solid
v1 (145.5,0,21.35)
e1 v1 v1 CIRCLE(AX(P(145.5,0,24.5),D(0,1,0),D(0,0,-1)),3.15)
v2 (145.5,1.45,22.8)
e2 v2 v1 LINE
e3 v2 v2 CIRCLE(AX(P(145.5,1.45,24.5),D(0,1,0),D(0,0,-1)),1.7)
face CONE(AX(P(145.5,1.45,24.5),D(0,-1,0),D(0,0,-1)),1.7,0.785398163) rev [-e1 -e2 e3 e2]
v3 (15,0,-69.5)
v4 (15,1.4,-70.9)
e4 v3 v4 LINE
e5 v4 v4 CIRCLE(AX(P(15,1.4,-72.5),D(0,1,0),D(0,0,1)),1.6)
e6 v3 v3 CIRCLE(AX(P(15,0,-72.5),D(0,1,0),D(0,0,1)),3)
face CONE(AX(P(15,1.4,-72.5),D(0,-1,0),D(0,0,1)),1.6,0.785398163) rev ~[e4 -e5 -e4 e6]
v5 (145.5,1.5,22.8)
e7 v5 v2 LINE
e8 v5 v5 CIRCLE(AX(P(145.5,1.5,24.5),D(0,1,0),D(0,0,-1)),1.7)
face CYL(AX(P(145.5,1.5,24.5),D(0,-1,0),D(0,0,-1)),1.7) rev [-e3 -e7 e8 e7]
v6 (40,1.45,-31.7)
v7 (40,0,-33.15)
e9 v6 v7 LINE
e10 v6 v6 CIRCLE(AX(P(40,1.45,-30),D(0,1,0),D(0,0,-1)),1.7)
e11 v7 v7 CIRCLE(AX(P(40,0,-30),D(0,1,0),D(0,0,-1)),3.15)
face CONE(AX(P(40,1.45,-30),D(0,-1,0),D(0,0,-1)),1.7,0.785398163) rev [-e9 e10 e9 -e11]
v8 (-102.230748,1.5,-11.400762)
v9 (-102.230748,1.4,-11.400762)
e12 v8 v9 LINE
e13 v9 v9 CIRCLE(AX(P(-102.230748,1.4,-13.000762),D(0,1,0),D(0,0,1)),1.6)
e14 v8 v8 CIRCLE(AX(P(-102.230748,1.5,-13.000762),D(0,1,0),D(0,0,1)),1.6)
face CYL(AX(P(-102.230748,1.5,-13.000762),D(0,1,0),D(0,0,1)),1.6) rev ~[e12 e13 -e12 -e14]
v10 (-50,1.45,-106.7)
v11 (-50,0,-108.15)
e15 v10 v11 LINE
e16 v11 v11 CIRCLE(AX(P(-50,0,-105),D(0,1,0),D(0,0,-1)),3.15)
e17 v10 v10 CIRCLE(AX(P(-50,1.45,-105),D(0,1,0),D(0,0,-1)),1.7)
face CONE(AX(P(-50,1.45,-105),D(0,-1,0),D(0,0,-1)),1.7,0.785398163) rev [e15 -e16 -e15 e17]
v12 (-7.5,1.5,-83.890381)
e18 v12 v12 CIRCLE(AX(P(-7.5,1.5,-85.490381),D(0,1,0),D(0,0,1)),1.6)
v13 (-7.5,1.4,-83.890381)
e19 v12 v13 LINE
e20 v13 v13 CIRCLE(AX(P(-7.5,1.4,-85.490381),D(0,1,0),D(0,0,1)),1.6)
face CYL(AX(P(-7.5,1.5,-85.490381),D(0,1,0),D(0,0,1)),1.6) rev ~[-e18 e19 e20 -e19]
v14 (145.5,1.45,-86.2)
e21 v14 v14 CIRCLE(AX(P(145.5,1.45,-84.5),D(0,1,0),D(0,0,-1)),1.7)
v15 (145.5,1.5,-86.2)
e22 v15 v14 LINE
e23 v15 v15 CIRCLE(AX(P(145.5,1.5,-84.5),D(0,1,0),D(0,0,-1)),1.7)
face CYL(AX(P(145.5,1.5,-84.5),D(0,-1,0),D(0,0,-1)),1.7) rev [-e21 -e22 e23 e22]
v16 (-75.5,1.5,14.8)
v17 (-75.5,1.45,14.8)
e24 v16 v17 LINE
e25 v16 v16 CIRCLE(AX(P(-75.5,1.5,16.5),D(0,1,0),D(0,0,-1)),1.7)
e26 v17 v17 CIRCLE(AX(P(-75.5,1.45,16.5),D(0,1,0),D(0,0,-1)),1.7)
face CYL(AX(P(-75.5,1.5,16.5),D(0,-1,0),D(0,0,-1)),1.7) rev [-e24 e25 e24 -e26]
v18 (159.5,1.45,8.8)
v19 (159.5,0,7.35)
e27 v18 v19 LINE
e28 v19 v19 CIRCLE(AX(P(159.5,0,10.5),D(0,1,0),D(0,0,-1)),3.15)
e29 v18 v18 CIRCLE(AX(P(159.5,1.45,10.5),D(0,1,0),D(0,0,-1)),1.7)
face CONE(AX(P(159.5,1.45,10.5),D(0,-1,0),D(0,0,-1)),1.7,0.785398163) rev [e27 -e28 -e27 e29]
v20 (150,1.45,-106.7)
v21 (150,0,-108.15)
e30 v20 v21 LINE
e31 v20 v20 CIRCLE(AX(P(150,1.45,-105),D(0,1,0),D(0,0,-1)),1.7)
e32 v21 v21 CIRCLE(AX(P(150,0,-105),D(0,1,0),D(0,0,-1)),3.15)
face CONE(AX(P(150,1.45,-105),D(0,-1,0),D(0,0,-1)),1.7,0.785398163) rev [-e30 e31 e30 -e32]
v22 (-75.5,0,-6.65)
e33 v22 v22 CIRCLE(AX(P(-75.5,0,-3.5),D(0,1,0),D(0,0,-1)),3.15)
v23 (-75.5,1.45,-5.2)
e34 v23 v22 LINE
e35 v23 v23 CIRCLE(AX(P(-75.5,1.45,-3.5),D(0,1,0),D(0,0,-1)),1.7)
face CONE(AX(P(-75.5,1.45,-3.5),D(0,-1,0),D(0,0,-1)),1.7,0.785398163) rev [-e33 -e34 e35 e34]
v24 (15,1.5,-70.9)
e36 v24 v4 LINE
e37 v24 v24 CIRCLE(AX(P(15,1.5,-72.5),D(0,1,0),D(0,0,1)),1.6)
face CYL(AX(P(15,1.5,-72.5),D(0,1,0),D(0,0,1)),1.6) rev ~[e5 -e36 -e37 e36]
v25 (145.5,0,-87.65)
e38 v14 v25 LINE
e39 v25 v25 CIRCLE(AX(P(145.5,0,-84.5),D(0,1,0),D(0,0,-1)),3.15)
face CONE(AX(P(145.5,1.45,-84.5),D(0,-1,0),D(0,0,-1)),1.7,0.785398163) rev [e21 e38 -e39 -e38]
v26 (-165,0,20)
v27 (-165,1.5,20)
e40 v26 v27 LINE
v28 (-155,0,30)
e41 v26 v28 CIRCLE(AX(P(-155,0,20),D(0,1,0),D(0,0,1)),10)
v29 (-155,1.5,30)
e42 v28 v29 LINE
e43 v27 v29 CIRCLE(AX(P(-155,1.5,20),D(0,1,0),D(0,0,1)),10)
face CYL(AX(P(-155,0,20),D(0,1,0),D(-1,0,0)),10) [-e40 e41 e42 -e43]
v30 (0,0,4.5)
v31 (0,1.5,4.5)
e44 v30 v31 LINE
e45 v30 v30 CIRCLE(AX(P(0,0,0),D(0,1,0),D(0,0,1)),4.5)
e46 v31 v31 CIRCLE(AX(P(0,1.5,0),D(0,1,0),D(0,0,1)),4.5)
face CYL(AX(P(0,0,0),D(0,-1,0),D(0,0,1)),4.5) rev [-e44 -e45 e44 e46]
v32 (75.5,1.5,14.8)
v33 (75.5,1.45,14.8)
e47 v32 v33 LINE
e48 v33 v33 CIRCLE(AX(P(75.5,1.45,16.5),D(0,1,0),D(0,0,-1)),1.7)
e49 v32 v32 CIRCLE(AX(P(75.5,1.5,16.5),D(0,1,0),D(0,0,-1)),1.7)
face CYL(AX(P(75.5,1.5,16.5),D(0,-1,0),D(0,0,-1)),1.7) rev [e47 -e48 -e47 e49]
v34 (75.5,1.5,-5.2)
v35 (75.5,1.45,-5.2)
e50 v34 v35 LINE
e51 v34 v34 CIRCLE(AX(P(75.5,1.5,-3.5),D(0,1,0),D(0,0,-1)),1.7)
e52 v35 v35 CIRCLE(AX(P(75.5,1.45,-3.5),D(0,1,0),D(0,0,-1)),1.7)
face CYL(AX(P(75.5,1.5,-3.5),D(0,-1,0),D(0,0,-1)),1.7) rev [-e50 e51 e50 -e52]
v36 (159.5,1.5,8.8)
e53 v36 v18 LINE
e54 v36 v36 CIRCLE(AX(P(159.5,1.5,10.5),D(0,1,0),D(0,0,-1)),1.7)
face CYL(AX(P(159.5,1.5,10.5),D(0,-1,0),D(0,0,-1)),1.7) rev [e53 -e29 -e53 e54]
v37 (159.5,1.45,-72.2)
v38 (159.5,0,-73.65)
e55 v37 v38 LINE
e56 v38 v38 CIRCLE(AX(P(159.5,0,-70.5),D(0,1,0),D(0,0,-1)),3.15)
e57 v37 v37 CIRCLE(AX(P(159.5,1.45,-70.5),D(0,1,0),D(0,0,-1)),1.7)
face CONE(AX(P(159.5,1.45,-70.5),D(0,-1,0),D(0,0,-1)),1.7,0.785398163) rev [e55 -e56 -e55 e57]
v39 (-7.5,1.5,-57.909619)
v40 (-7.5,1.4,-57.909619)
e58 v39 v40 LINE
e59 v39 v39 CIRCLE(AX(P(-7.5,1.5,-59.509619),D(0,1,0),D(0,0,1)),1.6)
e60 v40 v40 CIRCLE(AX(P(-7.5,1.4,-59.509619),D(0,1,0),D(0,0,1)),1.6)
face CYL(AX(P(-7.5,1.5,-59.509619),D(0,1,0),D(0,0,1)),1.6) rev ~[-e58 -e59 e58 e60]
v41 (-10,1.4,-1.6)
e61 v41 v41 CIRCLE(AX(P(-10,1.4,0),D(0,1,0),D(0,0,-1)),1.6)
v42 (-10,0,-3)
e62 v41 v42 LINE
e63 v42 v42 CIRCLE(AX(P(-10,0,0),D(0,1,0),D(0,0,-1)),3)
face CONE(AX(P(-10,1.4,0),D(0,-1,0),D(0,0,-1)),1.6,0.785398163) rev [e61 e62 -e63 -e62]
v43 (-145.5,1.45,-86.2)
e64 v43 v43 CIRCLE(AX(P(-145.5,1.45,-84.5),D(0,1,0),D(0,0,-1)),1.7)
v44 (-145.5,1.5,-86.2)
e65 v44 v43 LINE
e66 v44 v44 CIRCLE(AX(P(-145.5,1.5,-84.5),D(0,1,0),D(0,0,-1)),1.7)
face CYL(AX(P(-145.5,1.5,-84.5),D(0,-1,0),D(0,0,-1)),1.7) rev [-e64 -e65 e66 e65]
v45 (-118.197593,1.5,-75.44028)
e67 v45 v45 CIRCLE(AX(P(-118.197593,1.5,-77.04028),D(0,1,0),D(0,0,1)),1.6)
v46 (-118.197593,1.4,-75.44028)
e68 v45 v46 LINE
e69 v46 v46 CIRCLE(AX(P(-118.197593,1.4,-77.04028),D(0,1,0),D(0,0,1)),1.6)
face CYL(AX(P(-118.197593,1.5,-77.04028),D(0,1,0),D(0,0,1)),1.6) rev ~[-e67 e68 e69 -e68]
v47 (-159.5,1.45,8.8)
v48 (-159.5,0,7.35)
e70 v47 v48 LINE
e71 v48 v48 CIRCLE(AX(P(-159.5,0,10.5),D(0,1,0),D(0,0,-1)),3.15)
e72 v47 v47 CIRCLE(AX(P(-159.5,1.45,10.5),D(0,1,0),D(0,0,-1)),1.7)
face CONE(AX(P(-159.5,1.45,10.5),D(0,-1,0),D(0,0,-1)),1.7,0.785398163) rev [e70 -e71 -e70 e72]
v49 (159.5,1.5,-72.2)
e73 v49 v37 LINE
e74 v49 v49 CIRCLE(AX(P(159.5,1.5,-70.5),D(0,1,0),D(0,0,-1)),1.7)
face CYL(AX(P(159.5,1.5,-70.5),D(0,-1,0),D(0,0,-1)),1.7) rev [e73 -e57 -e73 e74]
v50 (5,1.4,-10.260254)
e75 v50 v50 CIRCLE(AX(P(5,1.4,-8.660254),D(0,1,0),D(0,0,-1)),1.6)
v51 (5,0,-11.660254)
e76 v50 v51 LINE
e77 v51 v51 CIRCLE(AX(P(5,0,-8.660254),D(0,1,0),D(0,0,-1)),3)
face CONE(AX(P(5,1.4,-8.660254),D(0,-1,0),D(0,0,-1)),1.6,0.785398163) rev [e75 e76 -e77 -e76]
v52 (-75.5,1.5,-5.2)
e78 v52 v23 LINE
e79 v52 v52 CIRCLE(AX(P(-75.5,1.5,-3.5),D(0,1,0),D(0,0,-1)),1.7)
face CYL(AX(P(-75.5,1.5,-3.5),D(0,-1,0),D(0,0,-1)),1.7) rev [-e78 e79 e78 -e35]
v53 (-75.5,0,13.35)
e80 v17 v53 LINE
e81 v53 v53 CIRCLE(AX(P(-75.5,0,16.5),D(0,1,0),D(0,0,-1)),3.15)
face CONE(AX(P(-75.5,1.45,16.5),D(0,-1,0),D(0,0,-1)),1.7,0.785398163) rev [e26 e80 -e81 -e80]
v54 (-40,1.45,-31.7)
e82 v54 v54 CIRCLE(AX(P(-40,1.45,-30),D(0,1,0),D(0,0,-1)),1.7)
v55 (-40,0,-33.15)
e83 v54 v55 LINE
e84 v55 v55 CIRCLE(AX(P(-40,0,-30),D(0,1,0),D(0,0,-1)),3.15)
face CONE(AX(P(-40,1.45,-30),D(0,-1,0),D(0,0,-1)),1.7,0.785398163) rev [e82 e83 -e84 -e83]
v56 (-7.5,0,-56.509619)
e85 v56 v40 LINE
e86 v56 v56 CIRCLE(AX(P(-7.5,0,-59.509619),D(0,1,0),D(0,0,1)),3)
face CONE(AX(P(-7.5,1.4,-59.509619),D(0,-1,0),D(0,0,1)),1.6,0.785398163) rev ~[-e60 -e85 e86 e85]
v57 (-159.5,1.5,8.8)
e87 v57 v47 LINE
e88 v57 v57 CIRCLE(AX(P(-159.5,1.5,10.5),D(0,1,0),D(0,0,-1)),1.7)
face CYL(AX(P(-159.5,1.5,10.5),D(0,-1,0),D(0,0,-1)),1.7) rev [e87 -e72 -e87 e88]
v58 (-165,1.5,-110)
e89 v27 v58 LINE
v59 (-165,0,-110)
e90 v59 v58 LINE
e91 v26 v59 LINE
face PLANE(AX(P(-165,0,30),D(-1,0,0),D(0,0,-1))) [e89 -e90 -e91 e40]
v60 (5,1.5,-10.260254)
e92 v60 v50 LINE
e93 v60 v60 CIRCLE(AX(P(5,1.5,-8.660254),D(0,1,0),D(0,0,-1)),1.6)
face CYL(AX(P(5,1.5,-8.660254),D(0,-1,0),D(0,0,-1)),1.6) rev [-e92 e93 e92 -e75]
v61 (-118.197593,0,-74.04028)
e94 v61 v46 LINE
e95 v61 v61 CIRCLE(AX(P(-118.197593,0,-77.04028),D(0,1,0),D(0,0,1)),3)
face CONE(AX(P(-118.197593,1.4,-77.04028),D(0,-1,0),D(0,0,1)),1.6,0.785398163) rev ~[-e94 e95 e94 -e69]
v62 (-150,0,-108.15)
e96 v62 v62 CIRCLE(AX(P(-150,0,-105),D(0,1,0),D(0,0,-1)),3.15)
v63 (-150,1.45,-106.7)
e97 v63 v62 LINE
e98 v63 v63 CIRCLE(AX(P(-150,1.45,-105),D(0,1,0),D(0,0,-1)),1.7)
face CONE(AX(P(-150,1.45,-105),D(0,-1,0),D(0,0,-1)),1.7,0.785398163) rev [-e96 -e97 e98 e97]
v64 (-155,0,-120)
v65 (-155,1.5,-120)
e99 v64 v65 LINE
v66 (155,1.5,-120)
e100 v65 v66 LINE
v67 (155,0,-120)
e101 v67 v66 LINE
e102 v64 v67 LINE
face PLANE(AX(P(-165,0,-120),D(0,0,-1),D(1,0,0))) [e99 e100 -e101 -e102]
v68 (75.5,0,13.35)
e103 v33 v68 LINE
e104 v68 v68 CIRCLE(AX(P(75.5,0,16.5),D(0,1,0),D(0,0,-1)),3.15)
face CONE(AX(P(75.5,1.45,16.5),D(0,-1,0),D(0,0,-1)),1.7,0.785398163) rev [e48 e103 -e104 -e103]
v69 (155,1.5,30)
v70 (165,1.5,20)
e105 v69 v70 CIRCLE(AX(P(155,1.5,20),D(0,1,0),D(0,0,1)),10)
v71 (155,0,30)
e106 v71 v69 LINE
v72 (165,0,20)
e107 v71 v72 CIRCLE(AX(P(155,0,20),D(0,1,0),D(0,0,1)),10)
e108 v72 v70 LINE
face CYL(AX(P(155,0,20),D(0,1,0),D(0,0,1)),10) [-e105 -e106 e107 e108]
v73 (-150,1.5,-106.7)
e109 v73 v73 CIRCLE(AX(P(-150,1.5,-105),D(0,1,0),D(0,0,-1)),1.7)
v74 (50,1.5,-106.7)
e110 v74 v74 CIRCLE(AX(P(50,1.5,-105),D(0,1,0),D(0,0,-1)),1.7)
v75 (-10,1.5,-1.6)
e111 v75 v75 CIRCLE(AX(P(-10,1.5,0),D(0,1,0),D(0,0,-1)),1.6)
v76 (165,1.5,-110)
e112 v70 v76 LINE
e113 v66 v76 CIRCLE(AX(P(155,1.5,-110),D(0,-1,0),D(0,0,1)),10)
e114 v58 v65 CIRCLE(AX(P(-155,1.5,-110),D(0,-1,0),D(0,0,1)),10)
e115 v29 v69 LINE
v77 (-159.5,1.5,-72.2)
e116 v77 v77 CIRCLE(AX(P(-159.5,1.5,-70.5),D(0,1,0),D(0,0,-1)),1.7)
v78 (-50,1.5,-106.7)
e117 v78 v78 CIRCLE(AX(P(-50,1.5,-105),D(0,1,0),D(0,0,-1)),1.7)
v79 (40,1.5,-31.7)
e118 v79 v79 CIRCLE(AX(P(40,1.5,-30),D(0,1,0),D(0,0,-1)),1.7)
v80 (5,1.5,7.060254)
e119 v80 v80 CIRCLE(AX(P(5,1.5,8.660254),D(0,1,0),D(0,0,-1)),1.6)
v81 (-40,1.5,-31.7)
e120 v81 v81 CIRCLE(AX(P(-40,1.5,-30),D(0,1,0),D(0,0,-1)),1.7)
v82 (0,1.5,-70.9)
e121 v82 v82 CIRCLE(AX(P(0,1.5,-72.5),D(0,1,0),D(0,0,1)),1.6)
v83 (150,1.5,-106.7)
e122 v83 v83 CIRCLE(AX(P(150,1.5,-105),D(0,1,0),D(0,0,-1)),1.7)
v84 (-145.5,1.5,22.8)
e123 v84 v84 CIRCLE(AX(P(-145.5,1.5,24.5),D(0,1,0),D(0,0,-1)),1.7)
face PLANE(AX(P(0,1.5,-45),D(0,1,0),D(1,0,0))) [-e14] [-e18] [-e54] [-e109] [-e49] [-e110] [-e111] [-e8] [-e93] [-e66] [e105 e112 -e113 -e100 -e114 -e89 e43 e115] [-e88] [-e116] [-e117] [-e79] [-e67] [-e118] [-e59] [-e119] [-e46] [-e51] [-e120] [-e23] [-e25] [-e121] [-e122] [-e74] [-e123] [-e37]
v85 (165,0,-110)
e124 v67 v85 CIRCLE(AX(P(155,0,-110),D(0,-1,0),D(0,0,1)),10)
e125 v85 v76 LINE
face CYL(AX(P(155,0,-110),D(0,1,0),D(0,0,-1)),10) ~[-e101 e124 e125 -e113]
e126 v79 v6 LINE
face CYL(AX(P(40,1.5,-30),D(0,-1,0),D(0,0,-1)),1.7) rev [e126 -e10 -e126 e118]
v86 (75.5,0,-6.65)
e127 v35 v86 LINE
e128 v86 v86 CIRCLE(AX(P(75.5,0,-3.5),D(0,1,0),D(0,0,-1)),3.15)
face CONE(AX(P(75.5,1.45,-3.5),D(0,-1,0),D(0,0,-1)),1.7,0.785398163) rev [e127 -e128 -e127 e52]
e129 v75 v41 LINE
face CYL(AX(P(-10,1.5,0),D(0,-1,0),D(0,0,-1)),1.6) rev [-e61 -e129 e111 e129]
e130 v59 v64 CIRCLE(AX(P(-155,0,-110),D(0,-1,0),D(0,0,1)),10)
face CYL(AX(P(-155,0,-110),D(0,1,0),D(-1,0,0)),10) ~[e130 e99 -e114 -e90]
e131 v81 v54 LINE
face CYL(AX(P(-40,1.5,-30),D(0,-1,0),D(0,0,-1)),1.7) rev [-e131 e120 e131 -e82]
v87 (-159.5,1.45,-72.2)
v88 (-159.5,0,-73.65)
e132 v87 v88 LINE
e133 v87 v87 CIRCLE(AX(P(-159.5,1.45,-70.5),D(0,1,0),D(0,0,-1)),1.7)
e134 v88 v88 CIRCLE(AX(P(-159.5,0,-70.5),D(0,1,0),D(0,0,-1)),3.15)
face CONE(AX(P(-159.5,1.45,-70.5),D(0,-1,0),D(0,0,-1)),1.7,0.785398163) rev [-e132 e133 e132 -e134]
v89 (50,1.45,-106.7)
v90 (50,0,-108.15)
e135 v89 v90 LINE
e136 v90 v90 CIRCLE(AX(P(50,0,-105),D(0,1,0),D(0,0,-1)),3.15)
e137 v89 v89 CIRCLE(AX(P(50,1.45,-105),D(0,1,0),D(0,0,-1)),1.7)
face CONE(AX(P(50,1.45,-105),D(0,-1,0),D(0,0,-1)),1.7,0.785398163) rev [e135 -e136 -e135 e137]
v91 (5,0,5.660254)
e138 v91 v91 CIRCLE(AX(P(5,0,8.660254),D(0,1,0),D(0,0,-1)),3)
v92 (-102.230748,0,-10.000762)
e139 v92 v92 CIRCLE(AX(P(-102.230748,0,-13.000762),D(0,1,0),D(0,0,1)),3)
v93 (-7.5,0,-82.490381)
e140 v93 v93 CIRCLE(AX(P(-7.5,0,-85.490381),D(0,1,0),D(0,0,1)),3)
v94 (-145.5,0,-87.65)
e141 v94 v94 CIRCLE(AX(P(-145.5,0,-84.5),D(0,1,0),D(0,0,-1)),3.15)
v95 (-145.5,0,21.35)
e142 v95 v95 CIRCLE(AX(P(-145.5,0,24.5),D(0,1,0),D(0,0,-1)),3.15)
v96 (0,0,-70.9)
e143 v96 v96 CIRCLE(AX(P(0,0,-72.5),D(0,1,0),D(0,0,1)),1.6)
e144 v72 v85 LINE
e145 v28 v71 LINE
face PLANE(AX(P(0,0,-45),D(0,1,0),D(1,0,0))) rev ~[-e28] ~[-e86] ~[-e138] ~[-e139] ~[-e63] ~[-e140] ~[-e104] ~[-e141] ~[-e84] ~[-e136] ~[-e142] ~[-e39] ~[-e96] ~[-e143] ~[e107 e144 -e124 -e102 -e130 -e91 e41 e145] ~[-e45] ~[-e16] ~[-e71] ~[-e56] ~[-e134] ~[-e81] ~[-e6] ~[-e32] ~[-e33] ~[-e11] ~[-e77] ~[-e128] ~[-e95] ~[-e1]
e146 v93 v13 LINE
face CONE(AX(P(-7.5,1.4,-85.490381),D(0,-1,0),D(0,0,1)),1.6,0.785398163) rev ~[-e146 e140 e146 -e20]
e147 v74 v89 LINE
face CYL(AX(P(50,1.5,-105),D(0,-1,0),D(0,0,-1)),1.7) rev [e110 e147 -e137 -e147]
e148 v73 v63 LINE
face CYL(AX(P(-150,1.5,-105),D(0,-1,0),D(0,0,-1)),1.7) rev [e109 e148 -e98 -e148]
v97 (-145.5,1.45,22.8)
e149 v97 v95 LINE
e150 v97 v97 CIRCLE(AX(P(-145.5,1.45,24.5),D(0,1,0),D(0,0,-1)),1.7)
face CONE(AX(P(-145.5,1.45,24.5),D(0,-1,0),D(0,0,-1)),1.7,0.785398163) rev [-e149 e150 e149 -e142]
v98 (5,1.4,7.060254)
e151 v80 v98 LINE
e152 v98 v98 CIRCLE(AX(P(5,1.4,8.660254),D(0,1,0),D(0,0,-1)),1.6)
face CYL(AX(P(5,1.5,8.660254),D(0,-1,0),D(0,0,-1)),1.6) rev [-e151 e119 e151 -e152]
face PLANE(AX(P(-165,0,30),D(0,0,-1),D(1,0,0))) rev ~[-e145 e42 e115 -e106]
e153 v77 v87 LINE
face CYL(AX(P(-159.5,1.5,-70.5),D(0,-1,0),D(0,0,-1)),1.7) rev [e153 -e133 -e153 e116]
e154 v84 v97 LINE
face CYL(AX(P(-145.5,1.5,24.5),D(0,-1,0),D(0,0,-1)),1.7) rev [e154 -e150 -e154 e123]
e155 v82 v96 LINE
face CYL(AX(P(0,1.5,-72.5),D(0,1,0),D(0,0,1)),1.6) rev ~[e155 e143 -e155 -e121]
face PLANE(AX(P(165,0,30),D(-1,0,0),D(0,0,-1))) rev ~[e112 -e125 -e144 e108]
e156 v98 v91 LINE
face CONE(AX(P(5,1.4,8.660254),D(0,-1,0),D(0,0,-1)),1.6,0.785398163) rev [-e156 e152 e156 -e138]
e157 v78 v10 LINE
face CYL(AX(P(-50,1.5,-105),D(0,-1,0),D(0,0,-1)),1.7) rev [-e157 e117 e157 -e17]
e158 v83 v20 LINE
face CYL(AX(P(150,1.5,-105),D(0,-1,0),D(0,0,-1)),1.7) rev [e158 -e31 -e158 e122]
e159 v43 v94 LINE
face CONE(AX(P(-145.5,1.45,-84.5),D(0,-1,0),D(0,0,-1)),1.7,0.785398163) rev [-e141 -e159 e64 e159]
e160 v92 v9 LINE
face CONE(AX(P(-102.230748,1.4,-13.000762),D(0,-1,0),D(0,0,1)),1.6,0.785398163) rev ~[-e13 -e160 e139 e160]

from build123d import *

# Parameters (mm, degrees)
ESQUISSE1_W                                 = 330
ESQUISSE1_H                                 = 150
ESQUISSE1_R                                 = 4.5
BOSS_EXTRU_1_DEPTH                          = 1.5
FRAISAGE_POUR_VIS_T_TE_FRAIS_E_M31_AT_COUNT = 2
FRAISAGE_POUR_VIS_T_TE_FRAIS_E_M31_AT_PITCH = 17.320508076
FRAISAGE_POUR_VIS_T_TE_FRAIS_E_M31_2_COUNT  = 2
FRAISAGE_POUR_VIS_T_TE_FRAIS_E_M31_2_PITCH  = 17.320508076
CONG_2_R                                    = 10
ESQUISSE4_R                                 = 1.6
ENL_V_MAT_EXTRU_1_DEPTH                     = 205.027571666
CHANFREIN1_SIZE                             = 1.4
FRAISAGE_POUR_VIS_T_TE_FRAIS_E_M32_AT_COUNT = 2
FRAISAGE_POUR_VIS_T_TE_FRAIS_E_M32_AT_PITCH = 20
FRAISAGE_POUR_VIS_T_TE_FRAIS_E_M32_2_COUNT  = 2
FRAISAGE_POUR_VIS_T_TE_FRAIS_E_M32_2_PITCH  = 152.318744743
FRAISAGE_POUR_VIS_T_TE_FRAIS_E_M32_3_COUNT  = 2
FRAISAGE_POUR_VIS_T_TE_FRAIS_E_M32_3_PITCH  = 151
FRAISAGE_POUR_VIS_T_TE_FRAIS_E_M32_4_COUNT  = 2
FRAISAGE_POUR_VIS_T_TE_FRAIS_E_M32_4_PITCH  = 85.158675424
FRAISAGE_POUR_VIS_T_TE_FRAIS_E_M32_5_COUNT  = 2
FRAISAGE_POUR_VIS_T_TE_FRAIS_E_M32_5_PITCH  = 75.3923073
FRAISAGE_POUR_VIS_T_TE_FRAIS_E_M32_6_COUNT  = 2
FRAISAGE_POUR_VIS_T_TE_FRAIS_E_M32_6_PITCH  = 107.447661678
FRAISAGE_POUR_VIS_T_TE_FRAIS_E_M32_7_COUNT  = 2
FRAISAGE_POUR_VIS_T_TE_FRAIS_E_M32_7_PITCH  = 107.056060081
FRAISAGE_POUR_VIS_T_TE_FRAIS_E_M32_8_COUNT  = 2
FRAISAGE_POUR_VIS_T_TE_FRAIS_E_M32_8_PITCH  = 222.766694099
FRAISAGE_POUR_VIS_T_TE_FRAIS_E_M32_9_COUNT  = 2
FRAISAGE_POUR_VIS_T_TE_FRAIS_E_M32_9_PITCH  = 235.416651917
FRAISAGE_POUR_VIS_T_TE_FRAIS_E_M32_10_COUNT = 2
FRAISAGE_POUR_VIS_T_TE_FRAIS_E_M32_10_PITCH = 235.376294473
FRAISAGE_POUR_VIS_T_TE_FRAIS_E_M32_11_COUNT = 2
FRAISAGE_POUR_VIS_T_TE_FRAIS_E_M32_11_PITCH = 244.364481871
FRAISAGE_POUR_VIS_T_TE_FRAIS_E_M32_12_COUNT = 2
FRAISAGE_POUR_VIS_T_TE_FRAIS_E_M32_12_PITCH = 125.906711497
FRAISAGE_POUR_VIS_T_TE_FRAIS_E_M32_13_COUNT = 2
FRAISAGE_POUR_VIS_T_TE_FRAIS_E_M32_13_PITCH = 104.654192463
FRAISAGE_POUR_VIS_T_TE_FRAIS_E_M32_14_COUNT = 2
FRAISAGE_POUR_VIS_T_TE_FRAIS_E_M32_14_PITCH = 44.300112867
FRAISAGE_POUR_VIS_T_TE_FRAIS_E_M32_15_COUNT = 2
FRAISAGE_POUR_VIS_T_TE_FRAIS_E_M32_15_PITCH = 118.501054848
FRAISAGE_POUR_VIS_T_TE_FRAIS_E_M32_16_COUNT = 2
FRAISAGE_POUR_VIS_T_TE_FRAIS_E_M32_16_PITCH = 161.407868458
FRAISAGE_POUR_VIS_T_TE_FRAIS_E_M32_17_COUNT = 2
FRAISAGE_POUR_VIS_T_TE_FRAIS_E_M32_17_PITCH = 247.290315217
FRAISAGE_POUR_VIS_T_TE_FRAIS_E_M32_18_COUNT = 2
FRAISAGE_POUR_VIS_T_TE_FRAIS_E_M32_18_PITCH = 357.617757774


with BuildPart() as part:
    # Esquisse1 → Boss.-Extru.1 (new body)
    with BuildSketch(Plane(origin=(0, 0, 0), x_dir=(1, 0, 0), z_dir=(0, 1, 0))):
        with Locations((0, 45)):
            Rectangle(ESQUISSE1_W, ESQUISSE1_H)
        with Locations(Location((0, 0, 0), (0, 0, 270))):
            Circle(ESQUISSE1_R, mode=Mode.SUBTRACT)
    extrude(amount=BOSS_EXTRU_1_DEPTH)

    # Esquisse3 → Fraisage pour vis à tête fraisée M31 (revolve, cut)
    with BuildSketch(Plane(origin=(5, 0, -8.660254038), x_dir=(0, 0, -1), z_dir=(1, 0, 0))):
        Polygon((0, 0), (0, 1.5), (1.6, 1.5), (1.6, 1.4), (3, 0), align=None)
    fraisage_pour_vis_t_te_frais_e_m31 = revolve(axis=Axis((5, -6.35, -8.660254038), (0, 1, 0)), mode=Mode.SUBTRACT)

    # Fraisage pour vis à tête fraisée M31 at: Fraisage pour vis à tête fraisée M31 ×2
    with Locations(*[(0, 0, i * FRAISAGE_POUR_VIS_T_TE_FRAIS_E_M31_AT_PITCH) for i in range(1, FRAISAGE_POUR_VIS_T_TE_FRAIS_E_M31_AT_COUNT)]):
        add(fraisage_pour_vis_t_te_frais_e_m31, mode=Mode.SUBTRACT)

    # Fraisage pour vis _ t_te frais_e M31 2: Fraisage pour vis à tête fraisée M31 ×2
    with Locations(*[Vector(-0.8660254037844397, 0, 0.49999999999999806) * (i * FRAISAGE_POUR_VIS_T_TE_FRAIS_E_M31_2_PITCH) for i in range(1, FRAISAGE_POUR_VIS_T_TE_FRAIS_E_M31_2_COUNT)]):
        add(fraisage_pour_vis_t_te_frais_e_m31, mode=Mode.SUBTRACT)

    # Congé2
    cong_2_edges = [part.edges().sort_by_distance(p)[0] for p in [
        (-165, 0.75, -120),
        (165, 0.75, -120),
        (165, 0.75, 30),
        (-165, 0.75, 30),
    ]]
    fillet(cong_2_edges, radius=CONG_2_R)

    # Esquisse4 → Enlèv. mat.-Extru.1 (cut, through all)
    with BuildSketch(Plane(origin=(0, 1.5, 0), x_dir=(1, 0, 0), z_dir=(0, 1, 0))):
        with Locations(Location((-102.23074819, 13.000761956, 0), (0, 0, 270))):
            Circle(ESQUISSE4_R)
        with Locations(Location((-118.1975933, 77.04027989, 0), (0, 0, 270))):
            Circle(ESQUISSE4_R)
        with Locations(Location((15, 72.5, 0), (0, 0, 270))):
            Circle(ESQUISSE4_R)
        with Locations(Location((-7.5, 85.490381057, 0), (0, 0, 270))):
            Circle(ESQUISSE4_R)
        with Locations(Location((-7.5, 59.509618943, 0), (0, 0, 270))):
            Circle(ESQUISSE4_R)
        with Locations(Location((0, 72.5, 0), (0, 0, 270))):
            Circle(ESQUISSE4_R)
    extrude(amount=-ENL_V_MAT_EXTRU_1_DEPTH, mode=Mode.SUBTRACT)

    # Chanfrein1
    chanfrein1_edges = [part.edges().sort_by_distance(p)[0] for p in [
        (-102.23074819, 0, -14.600761956),
        (-7.5, 0, -61.109618943),
        (15, 0, -74.1),
        (-7.5, 0, -87.090381057),
        (-118.1975933, 0, -78.64027989),
    ]]
    chamfer(chanfrein1_edges, length=CHANFREIN1_SIZE)

    # Esquisse6 → Fraisage pour vis à tête fraisée M32 (revolve, cut)
    with BuildSketch(Plane(origin=(75.5, 0, -3.5), x_dir=(0, 0, -1), z_dir=(1, 0, 0))):
        Polygon((0, 0), (0, 1.5), (1.7, 1.5), (1.7, 1.45), (3.15, 0), align=None)
    fraisage_pour_vis_t_te_frais_e_m32 = revolve(axis=Axis((75.5, -6.35, -3.5), (0, 1, 0)), mode=Mode.SUBTRACT)

    # Fraisage pour vis à tête fraisée M32 at: Fraisage pour vis à tête fraisée M32 ×2
    with Locations(*[(0, 0, i * FRAISAGE_POUR_VIS_T_TE_FRAIS_E_M32_AT_PITCH) for i in range(1, FRAISAGE_POUR_VIS_T_TE_FRAIS_E_M32_AT_COUNT)]):
        add(fraisage_pour_vis_t_te_frais_e_m32, mode=Mode.SUBTRACT)

    # Fraisage pour vis _ t_te frais_e M32 2: Fraisage pour vis à tête fraisée M32 ×2
    with Locations(*[Vector(-0.9913422031874387, 0, 0.1313036030711839) * (i * FRAISAGE_POUR_VIS_T_TE_FRAIS_E_M32_2_PITCH) for i in range(1, FRAISAGE_POUR_VIS_T_TE_FRAIS_E_M32_2_COUNT)]):
        add(fraisage_pour_vis_t_te_frais_e_m32, mode=Mode.SUBTRACT)

    # Fraisage pour vis _ t_te frais_e M32 3: Fraisage pour vis à tête fraisée M32 ×2
    with Locations(*[(-i * FRAISAGE_POUR_VIS_T_TE_FRAIS_E_M32_3_PITCH, 0, 0) for i in range(1, FRAISAGE_POUR_VIS_T_TE_FRAIS_E_M32_3_COUNT)]):
        add(fraisage_pour_vis_t_te_frais_e_m32, mode=Mode.SUBTRACT)

    # Fraisage pour vis _ t_te frais_e M32 4: Fraisage pour vis à tête fraisée M32 ×2
    with Locations(*[Vector(0.9863939238321435, 0, 0.1643989873053589) * (i * FRAISAGE_POUR_VIS_T_TE_FRAIS_E_M32_4_PITCH) for i in range(1, FRAISAGE_POUR_VIS_T_TE_FRAIS_E_M32_4_COUNT)]):
        add(fraisage_pour_vis_t_te_frais_e_m32, mode=Mode.SUBTRACT)

    # Fraisage pour vis _ t_te frais_e M32 5: Fraisage pour vis à tête fraisée M32 ×2
    with Locations(*[Vector(0.9284766908852593, 0, 0.3713906763541037) * (i * FRAISAGE_POUR_VIS_T_TE_FRAIS_E_M32_5_PITCH) for i in range(1, FRAISAGE_POUR_VIS_T_TE_FRAIS_E_M32_5_COUNT)]):
        add(fraisage_pour_vis_t_te_frais_e_m32, mode=Mode.SUBTRACT)

    # Fraisage pour vis _ t_te frais_e M32 6: Fraisage pour vis à tête fraisée M32 ×2
    with Locations(*[Vector(0.7817759706301133, 0, -0.6235594051454475) * (i * FRAISAGE_POUR_VIS_T_TE_FRAIS_E_M32_6_PITCH) for i in range(1, FRAISAGE_POUR_VIS_T_TE_FRAIS_E_M32_6_COUNT)]):
        add(fraisage_pour_vis_t_te_frais_e_m32, mode=Mode.SUBTRACT)

    # Fraisage pour vis _ t_te frais_e M32 7: Fraisage pour vis à tête fraisée M32 ×2
    with Locations(*[Vector(0.6538630316419344, 0, -0.7566129366142366) * (i * FRAISAGE_POUR_VIS_T_TE_FRAIS_E_M32_7_PITCH) for i in range(1, FRAISAGE_POUR_VIS_T_TE_FRAIS_E_M32_7_COUNT)]):
        add(fraisage_pour_vis_t_te_frais_e_m32, mode=Mode.SUBTRACT)

    # Fraisage pour vis _ t_te frais_e M32 8: Fraisage pour vis à tête fraisée M32 ×2
    with Locations(*[Vector(-0.9920693077275461, 0, 0.12569203898810538) * (i * FRAISAGE_POUR_VIS_T_TE_FRAIS_E_M32_8_PITCH) for i in range(1, FRAISAGE_POUR_VIS_T_TE_FRAIS_E_M32_8_COUNT)]):
        add(fraisage_pour_vis_t_te_frais_e_m32, mode=Mode.SUBTRACT)

    # Fraisage pour vis _ t_te frais_e M32 9: Fraisage pour vis à tête fraisée M32 ×2
    with Locations(*[Vector(-0.9982301510364278, 0, 0.05946903027451117) * (i * FRAISAGE_POUR_VIS_T_TE_FRAIS_E_M32_9_PITCH) for i in range(1, FRAISAGE_POUR_VIS_T_TE_FRAIS_E_M32_9_COUNT)]):
        add(fraisage_pour_vis_t_te_frais_e_m32, mode=Mode.SUBTRACT)

    # Fraisage pour vis _ t_te frais_e M32 10: Fraisage pour vis à tête fraisée M32 ×2
    with Locations(*[Vector(-0.9389220800441849, 0, -0.344129812142891) * (i * FRAISAGE_POUR_VIS_T_TE_FRAIS_E_M32_10_PITCH) for i in range(1, FRAISAGE_POUR_VIS_T_TE_FRAIS_E_M32_10_COUNT)]):
        add(fraisage_pour_vis_t_te_frais_e_m32, mode=Mode.SUBTRACT)

    # Fraisage pour vis _ t_te frais_e M32 11: Fraisage pour vis à tête fraisée M32 ×2
    with Locations(*[Vector(-0.9616782201769339, 0, -0.27418059894406194) * (i * FRAISAGE_POUR_VIS_T_TE_FRAIS_E_M32_11_PITCH) for i in range(1, FRAISAGE_POUR_VIS_T_TE_FRAIS_E_M32_11_COUNT)]):
        add(fraisage_pour_vis_t_te_frais_e_m32, mode=Mode.SUBTRACT)

    # Fraisage pour vis _ t_te frais_e M32 12: Fraisage pour vis à tête fraisée M32 ×2
    with Locations(*[Vector(0.5917079329146707, 0, -0.8061524186689808) * (i * FRAISAGE_POUR_VIS_T_TE_FRAIS_E_M32_12_PITCH) for i in range(1, FRAISAGE_POUR_VIS_T_TE_FRAIS_E_M32_12_COUNT)]):
        add(fraisage_pour_vis_t_te_frais_e_m32, mode=Mode.SUBTRACT)

    # Fraisage pour vis _ t_te frais_e M32 13: Fraisage pour vis à tête fraisée M32 ×2
    with Locations(*[Vector(-0.2436596126725799, 0, -0.9698608112261514) * (i * FRAISAGE_POUR_VIS_T_TE_FRAIS_E_M32_13_PITCH) for i in range(1, FRAISAGE_POUR_VIS_T_TE_FRAIS_E_M32_13_COUNT)]):
        add(fraisage_pour_vis_t_te_frais_e_m32, mode=Mode.SUBTRACT)

    # Fraisage pour vis _ t_te frais_e M32 14: Fraisage pour vis à tête fraisée M32 ×2
    with Locations(*[Vector(-0.8013523601360025, 0, -0.5981926068620863) * (i * FRAISAGE_POUR_VIS_T_TE_FRAIS_E_M32_14_PITCH) for i in range(1, FRAISAGE_POUR_VIS_T_TE_FRAIS_E_M32_14_COUNT)]):
        add(fraisage_pour_vis_t_te_frais_e_m32, mode=Mode.SUBTRACT)

    # Fraisage pour vis _ t_te frais_e M32 15: Fraisage pour vis à tête fraisée M32 ×2
    with Locations(*[Vector(-0.9746748680719794, 0, -0.223626701332532) * (i * FRAISAGE_POUR_VIS_T_TE_FRAIS_E_M32_15_PITCH) for i in range(1, FRAISAGE_POUR_VIS_T_TE_FRAIS_E_M32_15_COUNT)]):
        add(fraisage_pour_vis_t_te_frais_e_m32, mode=Mode.SUBTRACT)

    # Fraisage pour vis _ t_te frais_e M32 16: Fraisage pour vis à tête fraisée M32 ×2
    with Locations(*[Vector(-0.777533345798627, 0, -0.6288417099486903) * (i * FRAISAGE_POUR_VIS_T_TE_FRAIS_E_M32_16_PITCH) for i in range(1, FRAISAGE_POUR_VIS_T_TE_FRAIS_E_M32_16_COUNT)]):
        add(fraisage_pour_vis_t_te_frais_e_m32, mode=Mode.SUBTRACT)

    # Fraisage pour vis _ t_te frais_e M32 17: Fraisage pour vis à tête fraisée M32 ×2
    with Locations(*[Vector(-0.9118836692102092, 0, -0.41044874689506083) * (i * FRAISAGE_POUR_VIS_T_TE_FRAIS_E_M32_17_PITCH) for i in range(1, FRAISAGE_POUR_VIS_T_TE_FRAIS_E_M32_17_COUNT)]):
        add(fraisage_pour_vis_t_te_frais_e_m32, mode=Mode.SUBTRACT)

    # Fraisage pour vis _ t_te frais_e M32 18: Fraisage pour vis à tête fraisée M32 ×2
    with Locations(*[Vector(-0.9699587949702458, 0, 0.24326926657485654) * (i * FRAISAGE_POUR_VIS_T_TE_FRAIS_E_M32_18_PITCH) for i in range(1, FRAISAGE_POUR_VIS_T_TE_FRAIS_E_M32_18_COUNT)]):
        add(fraisage_pour_vis_t_te_frais_e_m32, mode=Mode.SUBTRACT)


solid = part.part
